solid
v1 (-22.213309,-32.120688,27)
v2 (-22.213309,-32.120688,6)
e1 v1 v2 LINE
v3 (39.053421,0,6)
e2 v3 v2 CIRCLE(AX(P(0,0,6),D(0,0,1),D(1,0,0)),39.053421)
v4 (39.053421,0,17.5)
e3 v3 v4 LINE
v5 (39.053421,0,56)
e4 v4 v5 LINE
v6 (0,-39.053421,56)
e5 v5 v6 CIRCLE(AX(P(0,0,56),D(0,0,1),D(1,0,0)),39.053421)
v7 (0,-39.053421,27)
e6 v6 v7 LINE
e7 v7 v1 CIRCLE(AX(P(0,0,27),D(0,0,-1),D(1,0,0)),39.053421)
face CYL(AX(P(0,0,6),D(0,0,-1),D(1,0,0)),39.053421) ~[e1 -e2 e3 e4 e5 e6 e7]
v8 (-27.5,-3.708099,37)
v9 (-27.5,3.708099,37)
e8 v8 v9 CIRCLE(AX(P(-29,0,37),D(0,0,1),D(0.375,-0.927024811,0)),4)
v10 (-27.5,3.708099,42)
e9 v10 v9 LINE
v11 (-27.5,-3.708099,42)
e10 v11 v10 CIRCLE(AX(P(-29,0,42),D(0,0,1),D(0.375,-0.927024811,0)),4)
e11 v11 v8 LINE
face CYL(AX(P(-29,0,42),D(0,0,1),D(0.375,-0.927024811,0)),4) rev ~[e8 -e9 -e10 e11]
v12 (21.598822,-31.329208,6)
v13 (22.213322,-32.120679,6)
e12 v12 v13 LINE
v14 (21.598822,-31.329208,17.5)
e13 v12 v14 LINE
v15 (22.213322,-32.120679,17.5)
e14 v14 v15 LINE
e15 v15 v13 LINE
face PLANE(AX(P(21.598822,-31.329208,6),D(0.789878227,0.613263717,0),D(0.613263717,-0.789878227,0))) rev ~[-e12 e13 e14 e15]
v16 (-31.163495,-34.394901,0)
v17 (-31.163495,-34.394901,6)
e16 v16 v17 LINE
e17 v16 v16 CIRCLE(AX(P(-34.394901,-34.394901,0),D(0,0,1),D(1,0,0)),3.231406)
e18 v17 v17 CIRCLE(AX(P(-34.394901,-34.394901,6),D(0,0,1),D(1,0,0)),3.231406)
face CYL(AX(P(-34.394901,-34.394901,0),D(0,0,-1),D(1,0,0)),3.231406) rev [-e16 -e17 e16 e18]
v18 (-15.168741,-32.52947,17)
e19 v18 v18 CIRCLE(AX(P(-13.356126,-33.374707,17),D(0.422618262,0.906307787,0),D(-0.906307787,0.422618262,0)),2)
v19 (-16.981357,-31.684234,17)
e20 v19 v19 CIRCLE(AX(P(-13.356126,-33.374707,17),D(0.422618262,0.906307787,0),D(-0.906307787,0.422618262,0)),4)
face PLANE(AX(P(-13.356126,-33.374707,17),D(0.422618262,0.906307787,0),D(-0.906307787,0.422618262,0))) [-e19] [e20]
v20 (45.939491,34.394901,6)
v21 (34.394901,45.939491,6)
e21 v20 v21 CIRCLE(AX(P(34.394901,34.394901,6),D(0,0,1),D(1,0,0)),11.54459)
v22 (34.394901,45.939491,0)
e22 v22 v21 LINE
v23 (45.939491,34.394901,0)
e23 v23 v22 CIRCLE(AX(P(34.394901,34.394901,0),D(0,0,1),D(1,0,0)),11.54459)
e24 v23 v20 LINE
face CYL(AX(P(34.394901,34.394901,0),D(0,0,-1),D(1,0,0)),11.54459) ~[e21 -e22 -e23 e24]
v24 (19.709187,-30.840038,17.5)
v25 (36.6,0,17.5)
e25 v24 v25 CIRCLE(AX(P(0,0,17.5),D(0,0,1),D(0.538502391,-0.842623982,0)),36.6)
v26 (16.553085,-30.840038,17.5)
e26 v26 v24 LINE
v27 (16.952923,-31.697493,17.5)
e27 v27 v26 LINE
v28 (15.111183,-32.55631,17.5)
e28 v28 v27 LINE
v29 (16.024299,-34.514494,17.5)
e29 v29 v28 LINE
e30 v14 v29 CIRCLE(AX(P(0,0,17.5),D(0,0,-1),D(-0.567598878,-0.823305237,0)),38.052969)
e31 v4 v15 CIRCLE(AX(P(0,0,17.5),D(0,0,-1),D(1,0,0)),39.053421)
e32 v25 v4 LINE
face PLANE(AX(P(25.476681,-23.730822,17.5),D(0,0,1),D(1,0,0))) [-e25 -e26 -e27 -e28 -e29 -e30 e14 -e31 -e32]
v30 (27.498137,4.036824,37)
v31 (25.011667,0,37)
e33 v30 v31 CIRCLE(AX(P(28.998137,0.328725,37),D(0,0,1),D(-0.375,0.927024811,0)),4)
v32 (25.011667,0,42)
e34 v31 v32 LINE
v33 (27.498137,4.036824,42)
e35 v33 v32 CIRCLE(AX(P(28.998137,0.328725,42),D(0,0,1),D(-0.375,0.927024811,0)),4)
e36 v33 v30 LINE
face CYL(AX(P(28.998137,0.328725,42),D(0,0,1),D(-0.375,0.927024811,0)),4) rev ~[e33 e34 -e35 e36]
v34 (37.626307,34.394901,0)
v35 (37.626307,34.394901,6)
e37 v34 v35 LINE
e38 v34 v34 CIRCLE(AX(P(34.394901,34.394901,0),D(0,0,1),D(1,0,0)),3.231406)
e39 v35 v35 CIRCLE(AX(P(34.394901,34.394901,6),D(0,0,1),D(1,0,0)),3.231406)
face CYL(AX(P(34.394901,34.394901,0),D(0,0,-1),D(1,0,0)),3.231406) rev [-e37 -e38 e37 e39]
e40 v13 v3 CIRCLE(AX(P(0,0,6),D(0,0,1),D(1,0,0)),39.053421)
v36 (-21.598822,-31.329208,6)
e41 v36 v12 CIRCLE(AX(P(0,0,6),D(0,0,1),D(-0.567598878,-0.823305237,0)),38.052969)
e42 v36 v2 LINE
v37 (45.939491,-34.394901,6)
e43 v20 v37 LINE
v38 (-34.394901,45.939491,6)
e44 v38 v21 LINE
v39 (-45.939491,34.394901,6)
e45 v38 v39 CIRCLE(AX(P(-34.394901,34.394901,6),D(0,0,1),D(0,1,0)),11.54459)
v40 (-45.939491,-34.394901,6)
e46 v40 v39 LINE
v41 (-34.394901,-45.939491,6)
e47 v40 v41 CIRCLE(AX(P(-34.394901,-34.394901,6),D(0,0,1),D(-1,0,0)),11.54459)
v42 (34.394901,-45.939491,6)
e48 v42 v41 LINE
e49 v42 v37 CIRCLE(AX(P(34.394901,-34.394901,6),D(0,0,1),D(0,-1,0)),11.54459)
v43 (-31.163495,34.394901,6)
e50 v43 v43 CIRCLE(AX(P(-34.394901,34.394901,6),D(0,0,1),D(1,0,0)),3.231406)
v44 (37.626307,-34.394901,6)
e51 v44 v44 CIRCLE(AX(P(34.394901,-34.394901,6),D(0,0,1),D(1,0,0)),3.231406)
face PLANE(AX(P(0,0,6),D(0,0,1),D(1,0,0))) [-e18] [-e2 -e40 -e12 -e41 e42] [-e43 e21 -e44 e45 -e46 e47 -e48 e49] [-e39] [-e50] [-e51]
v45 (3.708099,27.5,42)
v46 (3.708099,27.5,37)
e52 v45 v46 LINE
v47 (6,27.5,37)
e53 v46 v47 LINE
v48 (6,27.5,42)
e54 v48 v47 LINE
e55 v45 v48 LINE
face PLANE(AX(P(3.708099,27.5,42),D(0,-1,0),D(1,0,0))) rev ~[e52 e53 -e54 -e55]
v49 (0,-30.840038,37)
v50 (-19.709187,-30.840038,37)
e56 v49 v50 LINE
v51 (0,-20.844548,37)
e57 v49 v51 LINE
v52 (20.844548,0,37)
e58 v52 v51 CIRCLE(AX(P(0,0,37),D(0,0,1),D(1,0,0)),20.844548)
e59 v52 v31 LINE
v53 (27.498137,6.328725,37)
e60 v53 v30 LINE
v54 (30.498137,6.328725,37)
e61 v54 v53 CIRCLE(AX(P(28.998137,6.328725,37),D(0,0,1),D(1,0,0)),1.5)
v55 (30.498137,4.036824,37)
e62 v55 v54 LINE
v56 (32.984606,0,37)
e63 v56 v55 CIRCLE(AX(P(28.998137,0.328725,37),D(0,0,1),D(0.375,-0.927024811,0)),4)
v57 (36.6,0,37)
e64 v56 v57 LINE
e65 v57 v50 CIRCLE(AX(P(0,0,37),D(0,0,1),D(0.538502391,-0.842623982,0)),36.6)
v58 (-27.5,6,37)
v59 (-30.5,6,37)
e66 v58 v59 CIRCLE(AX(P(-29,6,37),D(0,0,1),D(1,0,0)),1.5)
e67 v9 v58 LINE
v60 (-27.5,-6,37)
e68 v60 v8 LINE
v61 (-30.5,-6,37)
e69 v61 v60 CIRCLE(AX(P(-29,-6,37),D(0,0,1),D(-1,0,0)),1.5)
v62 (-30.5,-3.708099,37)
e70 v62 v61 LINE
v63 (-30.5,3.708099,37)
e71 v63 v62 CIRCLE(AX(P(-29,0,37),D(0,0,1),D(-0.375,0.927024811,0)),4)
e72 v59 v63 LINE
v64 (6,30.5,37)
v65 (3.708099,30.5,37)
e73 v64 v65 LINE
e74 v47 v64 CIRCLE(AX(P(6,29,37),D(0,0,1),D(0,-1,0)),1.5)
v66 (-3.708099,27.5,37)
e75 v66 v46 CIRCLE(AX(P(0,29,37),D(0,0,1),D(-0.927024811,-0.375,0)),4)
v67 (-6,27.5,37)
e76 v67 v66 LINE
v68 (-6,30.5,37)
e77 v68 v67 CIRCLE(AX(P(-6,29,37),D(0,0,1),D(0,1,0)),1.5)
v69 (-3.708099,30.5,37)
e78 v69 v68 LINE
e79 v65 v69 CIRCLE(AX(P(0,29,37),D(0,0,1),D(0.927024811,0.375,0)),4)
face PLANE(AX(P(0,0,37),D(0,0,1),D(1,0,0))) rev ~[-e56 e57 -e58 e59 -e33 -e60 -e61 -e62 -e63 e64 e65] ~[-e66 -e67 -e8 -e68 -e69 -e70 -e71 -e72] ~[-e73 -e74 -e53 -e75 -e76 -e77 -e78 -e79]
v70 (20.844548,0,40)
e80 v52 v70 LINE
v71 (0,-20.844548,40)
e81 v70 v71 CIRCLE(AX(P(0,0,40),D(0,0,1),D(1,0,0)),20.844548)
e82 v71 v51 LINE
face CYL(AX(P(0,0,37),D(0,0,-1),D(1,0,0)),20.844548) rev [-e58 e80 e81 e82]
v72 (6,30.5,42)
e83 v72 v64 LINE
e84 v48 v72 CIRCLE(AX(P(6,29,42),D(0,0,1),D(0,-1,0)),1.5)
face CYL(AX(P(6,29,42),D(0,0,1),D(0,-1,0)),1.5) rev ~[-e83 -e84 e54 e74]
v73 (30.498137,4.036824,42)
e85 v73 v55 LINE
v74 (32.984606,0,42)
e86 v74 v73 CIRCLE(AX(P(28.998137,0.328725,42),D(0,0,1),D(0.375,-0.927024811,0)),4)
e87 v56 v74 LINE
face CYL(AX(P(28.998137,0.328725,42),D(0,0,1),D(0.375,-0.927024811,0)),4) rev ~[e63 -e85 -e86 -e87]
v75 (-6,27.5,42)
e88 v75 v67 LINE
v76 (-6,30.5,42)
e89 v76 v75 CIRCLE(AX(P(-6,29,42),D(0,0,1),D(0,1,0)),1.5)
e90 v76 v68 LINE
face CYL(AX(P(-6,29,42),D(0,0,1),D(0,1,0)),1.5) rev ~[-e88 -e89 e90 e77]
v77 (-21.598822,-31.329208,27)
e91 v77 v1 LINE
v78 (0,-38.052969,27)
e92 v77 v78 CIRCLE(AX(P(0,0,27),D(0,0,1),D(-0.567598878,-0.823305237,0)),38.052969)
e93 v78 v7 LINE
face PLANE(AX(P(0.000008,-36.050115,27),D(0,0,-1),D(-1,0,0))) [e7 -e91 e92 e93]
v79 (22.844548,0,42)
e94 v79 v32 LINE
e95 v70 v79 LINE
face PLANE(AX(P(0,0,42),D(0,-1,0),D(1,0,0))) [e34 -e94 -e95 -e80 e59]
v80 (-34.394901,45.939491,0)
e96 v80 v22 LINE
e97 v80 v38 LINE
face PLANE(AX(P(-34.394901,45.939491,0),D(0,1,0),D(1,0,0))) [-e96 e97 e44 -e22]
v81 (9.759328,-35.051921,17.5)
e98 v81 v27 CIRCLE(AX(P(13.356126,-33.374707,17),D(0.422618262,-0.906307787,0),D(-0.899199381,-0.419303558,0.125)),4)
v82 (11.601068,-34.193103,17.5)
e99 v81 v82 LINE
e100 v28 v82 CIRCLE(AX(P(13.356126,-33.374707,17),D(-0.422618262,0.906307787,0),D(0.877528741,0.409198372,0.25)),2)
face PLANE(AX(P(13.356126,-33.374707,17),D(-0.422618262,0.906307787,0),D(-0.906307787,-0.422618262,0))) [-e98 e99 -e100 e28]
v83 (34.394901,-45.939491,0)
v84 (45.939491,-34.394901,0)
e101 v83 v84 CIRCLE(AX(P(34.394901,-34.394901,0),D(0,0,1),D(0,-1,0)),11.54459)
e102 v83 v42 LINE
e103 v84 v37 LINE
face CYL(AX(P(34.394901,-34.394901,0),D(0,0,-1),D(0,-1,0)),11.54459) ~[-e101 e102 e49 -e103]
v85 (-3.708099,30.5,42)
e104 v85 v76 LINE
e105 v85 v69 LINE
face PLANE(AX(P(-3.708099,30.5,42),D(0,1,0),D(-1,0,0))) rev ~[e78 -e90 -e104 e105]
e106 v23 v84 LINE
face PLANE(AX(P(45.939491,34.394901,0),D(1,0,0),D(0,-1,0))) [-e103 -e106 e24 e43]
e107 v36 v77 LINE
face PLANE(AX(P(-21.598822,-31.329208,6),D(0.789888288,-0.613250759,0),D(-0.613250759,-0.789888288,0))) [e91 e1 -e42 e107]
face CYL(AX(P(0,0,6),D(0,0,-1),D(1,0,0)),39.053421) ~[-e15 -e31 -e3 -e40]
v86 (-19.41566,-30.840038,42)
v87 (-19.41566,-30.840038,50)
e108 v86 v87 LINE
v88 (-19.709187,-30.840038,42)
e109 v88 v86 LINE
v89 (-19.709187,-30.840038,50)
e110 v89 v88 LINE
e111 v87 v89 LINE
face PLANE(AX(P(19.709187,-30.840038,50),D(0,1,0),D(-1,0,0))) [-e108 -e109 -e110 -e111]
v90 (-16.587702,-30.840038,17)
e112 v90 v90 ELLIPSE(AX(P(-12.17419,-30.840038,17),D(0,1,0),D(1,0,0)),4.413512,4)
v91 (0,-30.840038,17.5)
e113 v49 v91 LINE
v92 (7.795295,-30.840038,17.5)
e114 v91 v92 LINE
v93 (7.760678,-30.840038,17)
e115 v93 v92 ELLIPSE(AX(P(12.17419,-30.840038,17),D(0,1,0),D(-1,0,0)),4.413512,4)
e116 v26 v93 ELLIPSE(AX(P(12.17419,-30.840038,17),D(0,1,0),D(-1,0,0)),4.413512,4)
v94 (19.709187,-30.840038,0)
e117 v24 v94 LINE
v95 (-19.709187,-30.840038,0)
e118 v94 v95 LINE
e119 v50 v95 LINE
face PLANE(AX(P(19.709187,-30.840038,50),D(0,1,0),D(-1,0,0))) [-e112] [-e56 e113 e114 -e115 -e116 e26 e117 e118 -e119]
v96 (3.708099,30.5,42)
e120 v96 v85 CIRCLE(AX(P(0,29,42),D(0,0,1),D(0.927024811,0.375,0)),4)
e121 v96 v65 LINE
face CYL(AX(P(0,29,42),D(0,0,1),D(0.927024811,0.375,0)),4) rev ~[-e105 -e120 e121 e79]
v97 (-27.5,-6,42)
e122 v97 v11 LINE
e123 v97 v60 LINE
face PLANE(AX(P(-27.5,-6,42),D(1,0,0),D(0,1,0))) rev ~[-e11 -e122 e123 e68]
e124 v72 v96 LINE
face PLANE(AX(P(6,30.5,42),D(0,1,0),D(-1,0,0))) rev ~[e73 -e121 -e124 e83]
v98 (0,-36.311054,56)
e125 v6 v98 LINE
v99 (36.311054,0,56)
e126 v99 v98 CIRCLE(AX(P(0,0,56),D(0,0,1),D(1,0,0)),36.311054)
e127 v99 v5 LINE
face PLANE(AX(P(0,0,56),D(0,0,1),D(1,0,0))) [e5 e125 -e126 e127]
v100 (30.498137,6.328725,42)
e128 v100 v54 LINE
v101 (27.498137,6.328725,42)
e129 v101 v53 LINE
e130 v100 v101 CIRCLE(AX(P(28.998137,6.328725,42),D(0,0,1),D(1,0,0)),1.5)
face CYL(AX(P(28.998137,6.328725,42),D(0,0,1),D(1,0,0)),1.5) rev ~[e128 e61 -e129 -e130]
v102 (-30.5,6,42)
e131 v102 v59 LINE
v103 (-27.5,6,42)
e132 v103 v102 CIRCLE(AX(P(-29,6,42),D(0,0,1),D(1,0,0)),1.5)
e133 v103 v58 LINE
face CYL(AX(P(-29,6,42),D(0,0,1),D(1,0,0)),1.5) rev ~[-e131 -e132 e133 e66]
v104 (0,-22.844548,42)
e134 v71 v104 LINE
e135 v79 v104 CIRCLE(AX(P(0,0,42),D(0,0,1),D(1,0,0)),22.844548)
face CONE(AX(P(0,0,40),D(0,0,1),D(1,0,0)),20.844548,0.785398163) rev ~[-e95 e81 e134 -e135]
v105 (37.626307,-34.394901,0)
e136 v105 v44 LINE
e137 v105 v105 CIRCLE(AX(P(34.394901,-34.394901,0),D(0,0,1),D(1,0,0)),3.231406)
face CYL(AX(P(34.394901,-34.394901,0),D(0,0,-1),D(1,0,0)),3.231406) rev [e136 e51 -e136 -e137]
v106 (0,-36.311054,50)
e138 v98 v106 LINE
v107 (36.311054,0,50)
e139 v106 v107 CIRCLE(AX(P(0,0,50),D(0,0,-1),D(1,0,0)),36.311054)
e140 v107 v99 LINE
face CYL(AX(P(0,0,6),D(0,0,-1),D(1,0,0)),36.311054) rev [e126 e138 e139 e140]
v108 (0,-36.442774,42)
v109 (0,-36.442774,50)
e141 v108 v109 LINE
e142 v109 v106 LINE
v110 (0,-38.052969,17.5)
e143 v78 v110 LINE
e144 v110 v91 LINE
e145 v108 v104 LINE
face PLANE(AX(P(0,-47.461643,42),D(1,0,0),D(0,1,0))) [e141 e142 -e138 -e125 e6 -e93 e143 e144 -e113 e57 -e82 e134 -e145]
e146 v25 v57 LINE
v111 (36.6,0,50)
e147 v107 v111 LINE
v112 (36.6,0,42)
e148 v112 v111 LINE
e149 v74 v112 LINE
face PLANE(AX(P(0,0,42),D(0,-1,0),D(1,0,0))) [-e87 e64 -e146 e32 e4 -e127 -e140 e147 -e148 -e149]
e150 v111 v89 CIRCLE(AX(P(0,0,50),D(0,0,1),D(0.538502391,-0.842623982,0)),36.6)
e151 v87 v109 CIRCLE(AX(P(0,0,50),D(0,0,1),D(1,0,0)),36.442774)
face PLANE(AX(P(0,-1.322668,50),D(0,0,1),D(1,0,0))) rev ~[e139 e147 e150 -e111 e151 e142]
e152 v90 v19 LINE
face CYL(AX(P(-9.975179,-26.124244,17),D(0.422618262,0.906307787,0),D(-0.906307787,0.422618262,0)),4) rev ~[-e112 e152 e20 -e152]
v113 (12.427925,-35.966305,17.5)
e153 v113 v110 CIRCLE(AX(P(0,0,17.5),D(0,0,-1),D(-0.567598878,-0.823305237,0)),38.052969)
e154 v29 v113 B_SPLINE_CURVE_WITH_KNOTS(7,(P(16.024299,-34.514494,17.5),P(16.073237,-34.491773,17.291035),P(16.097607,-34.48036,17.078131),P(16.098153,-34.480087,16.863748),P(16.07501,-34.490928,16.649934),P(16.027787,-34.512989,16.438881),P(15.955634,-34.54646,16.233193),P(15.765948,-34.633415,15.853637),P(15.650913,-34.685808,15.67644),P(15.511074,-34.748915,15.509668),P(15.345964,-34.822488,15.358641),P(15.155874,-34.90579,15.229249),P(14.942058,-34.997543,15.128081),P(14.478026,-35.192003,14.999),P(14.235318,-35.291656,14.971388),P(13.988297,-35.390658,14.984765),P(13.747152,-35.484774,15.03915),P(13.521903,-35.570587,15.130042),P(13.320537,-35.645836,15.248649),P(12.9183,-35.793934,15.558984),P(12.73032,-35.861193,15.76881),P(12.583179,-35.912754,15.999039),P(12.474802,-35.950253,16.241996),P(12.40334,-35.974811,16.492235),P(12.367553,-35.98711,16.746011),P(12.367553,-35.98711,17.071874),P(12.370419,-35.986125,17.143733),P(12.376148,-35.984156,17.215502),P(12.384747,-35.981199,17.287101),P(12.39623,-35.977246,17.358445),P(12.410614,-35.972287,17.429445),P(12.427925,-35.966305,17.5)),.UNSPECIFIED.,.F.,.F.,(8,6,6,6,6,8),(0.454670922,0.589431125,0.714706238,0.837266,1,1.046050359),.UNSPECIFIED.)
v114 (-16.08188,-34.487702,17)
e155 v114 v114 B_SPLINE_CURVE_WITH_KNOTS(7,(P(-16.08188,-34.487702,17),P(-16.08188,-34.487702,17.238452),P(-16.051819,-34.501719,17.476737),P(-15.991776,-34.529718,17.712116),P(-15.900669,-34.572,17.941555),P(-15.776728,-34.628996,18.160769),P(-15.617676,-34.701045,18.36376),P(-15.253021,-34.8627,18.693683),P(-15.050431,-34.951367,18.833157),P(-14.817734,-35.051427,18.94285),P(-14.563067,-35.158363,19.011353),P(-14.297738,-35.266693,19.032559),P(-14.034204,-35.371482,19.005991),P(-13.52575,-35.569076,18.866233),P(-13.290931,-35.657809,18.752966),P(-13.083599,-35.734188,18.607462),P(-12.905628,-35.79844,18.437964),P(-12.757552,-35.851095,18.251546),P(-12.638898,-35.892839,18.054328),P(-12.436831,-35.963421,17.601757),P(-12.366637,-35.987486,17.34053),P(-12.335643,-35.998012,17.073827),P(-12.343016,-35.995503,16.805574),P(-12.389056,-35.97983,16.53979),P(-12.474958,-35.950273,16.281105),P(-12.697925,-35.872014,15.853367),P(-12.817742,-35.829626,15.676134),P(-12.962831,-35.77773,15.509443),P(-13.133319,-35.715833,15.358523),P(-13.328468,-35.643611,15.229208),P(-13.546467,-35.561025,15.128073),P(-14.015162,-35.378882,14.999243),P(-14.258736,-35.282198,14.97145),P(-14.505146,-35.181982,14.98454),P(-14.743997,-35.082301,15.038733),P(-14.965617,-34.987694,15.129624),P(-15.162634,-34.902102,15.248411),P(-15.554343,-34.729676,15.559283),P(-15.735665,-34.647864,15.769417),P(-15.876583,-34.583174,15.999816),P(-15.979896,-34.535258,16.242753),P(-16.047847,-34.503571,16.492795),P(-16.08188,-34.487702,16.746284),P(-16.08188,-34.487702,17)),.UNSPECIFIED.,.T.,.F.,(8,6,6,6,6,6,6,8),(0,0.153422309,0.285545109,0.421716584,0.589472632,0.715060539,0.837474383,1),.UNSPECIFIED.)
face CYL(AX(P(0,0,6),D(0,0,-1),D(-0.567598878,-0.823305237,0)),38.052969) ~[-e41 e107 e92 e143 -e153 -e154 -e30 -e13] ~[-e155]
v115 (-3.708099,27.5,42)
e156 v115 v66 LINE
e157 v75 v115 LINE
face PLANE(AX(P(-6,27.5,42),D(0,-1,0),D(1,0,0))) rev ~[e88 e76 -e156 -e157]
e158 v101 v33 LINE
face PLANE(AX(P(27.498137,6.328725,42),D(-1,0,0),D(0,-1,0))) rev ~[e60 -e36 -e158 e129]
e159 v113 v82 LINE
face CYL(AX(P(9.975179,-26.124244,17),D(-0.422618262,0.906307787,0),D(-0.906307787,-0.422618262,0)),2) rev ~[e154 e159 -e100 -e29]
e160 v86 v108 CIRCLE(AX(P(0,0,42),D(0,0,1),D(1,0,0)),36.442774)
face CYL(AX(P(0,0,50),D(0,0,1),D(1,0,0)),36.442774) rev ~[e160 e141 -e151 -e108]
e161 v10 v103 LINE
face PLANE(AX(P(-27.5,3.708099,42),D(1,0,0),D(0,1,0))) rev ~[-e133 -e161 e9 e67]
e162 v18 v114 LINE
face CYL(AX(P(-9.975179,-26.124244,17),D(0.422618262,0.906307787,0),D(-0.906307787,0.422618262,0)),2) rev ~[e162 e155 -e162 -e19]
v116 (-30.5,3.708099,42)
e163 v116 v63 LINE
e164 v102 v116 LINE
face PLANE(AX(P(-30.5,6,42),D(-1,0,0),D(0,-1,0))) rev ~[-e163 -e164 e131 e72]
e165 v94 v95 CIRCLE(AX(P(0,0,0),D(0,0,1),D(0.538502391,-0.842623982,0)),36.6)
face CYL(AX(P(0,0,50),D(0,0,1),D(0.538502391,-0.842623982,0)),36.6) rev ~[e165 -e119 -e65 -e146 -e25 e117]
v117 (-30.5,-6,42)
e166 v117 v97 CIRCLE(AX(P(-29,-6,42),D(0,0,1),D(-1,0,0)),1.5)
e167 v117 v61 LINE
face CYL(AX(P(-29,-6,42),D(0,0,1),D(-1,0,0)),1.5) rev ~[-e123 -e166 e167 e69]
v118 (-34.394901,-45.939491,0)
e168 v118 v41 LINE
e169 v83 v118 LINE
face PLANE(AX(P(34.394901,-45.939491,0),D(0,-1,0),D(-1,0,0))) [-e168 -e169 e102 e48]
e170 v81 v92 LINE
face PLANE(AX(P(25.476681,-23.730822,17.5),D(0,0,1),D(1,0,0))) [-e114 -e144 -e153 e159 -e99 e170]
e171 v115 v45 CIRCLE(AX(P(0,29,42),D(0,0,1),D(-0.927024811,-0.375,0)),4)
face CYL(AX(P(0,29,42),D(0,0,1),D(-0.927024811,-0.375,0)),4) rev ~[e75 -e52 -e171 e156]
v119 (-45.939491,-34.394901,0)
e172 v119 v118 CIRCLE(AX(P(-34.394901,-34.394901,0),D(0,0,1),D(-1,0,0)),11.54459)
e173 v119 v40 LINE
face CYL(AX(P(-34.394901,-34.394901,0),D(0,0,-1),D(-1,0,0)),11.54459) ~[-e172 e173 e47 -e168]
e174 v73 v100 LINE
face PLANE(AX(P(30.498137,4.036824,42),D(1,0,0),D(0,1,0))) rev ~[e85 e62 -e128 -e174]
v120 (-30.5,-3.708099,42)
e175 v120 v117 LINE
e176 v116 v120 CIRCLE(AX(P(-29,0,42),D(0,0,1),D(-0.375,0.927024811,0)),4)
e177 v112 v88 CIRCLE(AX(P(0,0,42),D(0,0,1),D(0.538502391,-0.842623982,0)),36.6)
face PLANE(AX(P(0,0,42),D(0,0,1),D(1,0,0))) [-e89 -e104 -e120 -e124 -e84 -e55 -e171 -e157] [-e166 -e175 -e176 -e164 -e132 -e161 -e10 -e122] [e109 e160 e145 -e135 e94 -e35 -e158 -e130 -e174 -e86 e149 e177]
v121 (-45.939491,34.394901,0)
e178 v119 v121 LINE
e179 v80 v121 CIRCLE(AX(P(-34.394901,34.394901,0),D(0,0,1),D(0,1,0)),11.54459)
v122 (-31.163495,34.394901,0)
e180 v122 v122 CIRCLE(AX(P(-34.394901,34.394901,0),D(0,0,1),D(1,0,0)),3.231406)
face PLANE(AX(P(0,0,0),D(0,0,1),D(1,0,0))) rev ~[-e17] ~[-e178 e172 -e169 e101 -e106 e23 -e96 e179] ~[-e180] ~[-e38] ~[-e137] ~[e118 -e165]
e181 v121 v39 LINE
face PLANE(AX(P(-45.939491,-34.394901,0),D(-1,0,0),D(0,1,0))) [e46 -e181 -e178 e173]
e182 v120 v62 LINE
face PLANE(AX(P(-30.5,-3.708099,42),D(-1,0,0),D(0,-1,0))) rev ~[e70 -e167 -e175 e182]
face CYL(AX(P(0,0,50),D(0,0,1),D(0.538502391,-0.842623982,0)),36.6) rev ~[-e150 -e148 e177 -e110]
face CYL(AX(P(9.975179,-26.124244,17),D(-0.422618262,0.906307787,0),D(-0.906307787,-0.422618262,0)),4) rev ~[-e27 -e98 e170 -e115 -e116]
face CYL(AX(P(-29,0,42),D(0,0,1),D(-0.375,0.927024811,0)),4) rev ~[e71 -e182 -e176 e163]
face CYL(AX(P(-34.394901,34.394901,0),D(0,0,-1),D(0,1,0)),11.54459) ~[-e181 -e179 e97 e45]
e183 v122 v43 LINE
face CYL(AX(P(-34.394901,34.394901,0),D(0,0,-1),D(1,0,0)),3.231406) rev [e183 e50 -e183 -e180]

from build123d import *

# Parameters (mm, degrees)
SKETCH_R        = 3.231406
PAD_DEPTH       = 6
SKETCH001_R     = 39.053421
SKETCH001_R_2   = 36.311054
PAD001_DEPTH    = 50
POCKET_DEPTH    = 21
PAD002_DEPTH    = 44
SKETCH005_R     = 4
POCKET001_DEPTH = 8
SKETCH004_R     = 4
POCKET002_DEPTH = 8
SKETCH006_R     = 2
POCKET003_DEPTH = 33.1588870995
SKETCH007_R     = 2
POCKET004_DEPTH = 33.1588870995
POCKET005_DEPTH = 50.001
SKETCH009_R     = 36.442774
POCKET006_DEPTH = 13
SKETCH010_R     = 37.170227
SKETCH010_R_2   = 20.844548
PAD003_DEPTH    = 5
CHAMFER_SIZE    = 2
POCKET007_DEPTH = 5
SKETCH013_W     = 50.953362
SKETCH013_H     = 47.461643
POCKET008_DEPTH = 24.5


with BuildPart() as part:
    # Sketch → Pad (new body)
    with BuildSketch(Plane.XY):
        with BuildLine():
            ThreePointArc((34.394901, -45.939491), (42.558158875, -42.558158875), (45.939491, -34.394901))
            Line((45.939491, 34.394901), (45.939491, -34.394901))
            ThreePointArc((45.939491, 34.394901), (42.558158875, 42.558158875), (34.394901, 45.939491))
            Line((-34.394901, 45.939491), (34.394901, 45.939491))
            ThreePointArc((-34.394901, 45.939491), (-42.558158875, 42.558158875), (-45.939491, 34.394901))
            Line((-45.939491, -34.394901), (-45.939491, 34.394901))
            ThreePointArc((-45.939491, -34.394901), (-42.558158875, -42.558158875), (-34.394901, -45.939491))
            Line((34.394901, -45.939491), (-34.394901, -45.939491))
        make_face()
        with Locations((-34.394901, 34.394901)):
            Circle(SKETCH_R, mode=Mode.SUBTRACT)
        with Locations((34.394901, 34.394901)):
            Circle(SKETCH_R, mode=Mode.SUBTRACT)
        with Locations((-34.394901, -34.394901)):
            Circle(SKETCH_R, mode=Mode.SUBTRACT)
        with Locations((34.394901, -34.394901)):
            Circle(SKETCH_R, mode=Mode.SUBTRACT)
    extrude(amount=PAD_DEPTH)

    # Sketch001 (on Face14 of Pad) → Pad001 (join)
    with BuildSketch(Plane.XY.offset(6)):
        Circle(SKETCH001_R)
        Circle(SKETCH001_R_2, mode=Mode.SUBTRACT)
    extrude(amount=PAD001_DEPTH)

    # Sketch002 (on Face14 of Pad) → Pocket (cut)
    with BuildSketch(Plane.XY.offset(6)):
        with BuildLine():
            ThreePointArc((-21.5988223559, -31.3292084741), (0, -38.0529687512), (21.5988223559, -31.3292084741))
            Line((21.5988223559, -31.3292084741), (22.7946876619, -32.8694723778))
            ThreePointArc((-22.7946613357, -32.8694906348), (1.60187e-05, -40), (22.7946876619, -32.8694723778))
            Line((-21.5988223559, -31.3292084741), (-22.7946613357, -32.8694906348))
        make_face()
    extrude(amount=POCKET_DEPTH, mode=Mode.SUBTRACT)

    # Sketch003 (on Face24 of Pocket) → Pad002 (join)
    with BuildSketch(Plane.XY.offset(6)):
        with BuildLine():
            ThreePointArc((-33.0264474223, -15.3752616453), (0, -36.43), (33.0264474223, -15.3752616453))
            Line((0, -30.775747), (33.0264474223, -15.3752616453))
            Line((-33.0264474223, -15.3752616453), (0, -30.775747))
        make_face()
    extrude(amount=PAD002_DEPTH)

    # Sketch005 (on Face27 of Pad002) → Pocket001 (cut)
    with BuildSketch(Plane(origin=(11.7877949861, -25.2790079252, 0), x_dir=(-0.906307787, -0.4226182617, 0), z_dir=(-0.4226182617, 0.906307787, 0))):
        with Locations((2, 17)):
            Circle(SKETCH005_R)
    extrude(amount=-POCKET001_DEPTH, mode=Mode.SUBTRACT)

    # Sketch004 (on Face25 of Pad002) → Pocket002 (cut)
    with BuildSketch(Plane(origin=(-11.7877949861, -25.2790079252, 0), x_dir=(-0.906307787, 0.4226182617, 0), z_dir=(0.4226182617, 0.906307787, 0))):
        with Locations((-2, 17)):
            Circle(SKETCH004_R)
    extrude(amount=-POCKET002_DEPTH, mode=Mode.SUBTRACT)

    # Sketch006 (on Face27 of Pad002) → Pocket003 (cut, through all)
    with BuildSketch(Plane(origin=(11.7877949861, -25.2790079252, 0), x_dir=(-0.906307787, -0.4226182617, 0), z_dir=(-0.4226182617, 0.906307787, 0))):
        with Locations((2, 17)):
            Circle(SKETCH006_R)
    extrude(amount=-POCKET003_DEPTH, mode=Mode.SUBTRACT)

    # Sketch007 (on Face25 of Pad002) → Pocket004 (cut, through all)
    with BuildSketch(Plane(origin=(-11.7877949861, -25.2790079252, 0), x_dir=(-0.906307787, 0.4226182617, 0), z_dir=(0.4226182617, 0.906307787, 0))):
        with Locations((-2, 17)):
            Circle(SKETCH007_R)
    extrude(amount=-POCKET004_DEPTH, mode=Mode.SUBTRACT)

    # Sketch008 (on Face28 of Pocket004) → Pocket005 (cut, through all)
    with BuildSketch(Plane.XY.offset(50)):
        with BuildLine():
            ThreePointArc((19.7091874975, -30.8400377462), (0, 36.6), (-19.7091874975, -30.8400377462))
            Line((19.7091874975, -30.8400377462), (-19.7091874975, -30.8400377462))
        make_face()
    extrude(amount=-POCKET005_DEPTH, mode=Mode.SUBTRACT)

    # Sketch009 (on Face20 of Pocket005) → Pocket006 (cut)
    with BuildSketch(Plane.XY.offset(50)):
        Circle(SKETCH009_R)
    extrude(amount=-POCKET006_DEPTH, mode=Mode.SUBTRACT)

    # Sketch010 (on Face21 of Pocket006) → Pad003 (join)
    with BuildSketch(Plane.XY.offset(37)):
        Circle(SKETCH010_R)
        Circle(SKETCH010_R_2, mode=Mode.SUBTRACT)
    extrude(amount=PAD003_DEPTH)

    # Chamfer
    chamfer_edges = [part.edges().sort_by_distance(p)[0] for p in [
        (-20.844548, 0, 42),
    ]]
    chamfer(chamfer_edges, length=CHAMFER_SIZE)

    # Sketch012 (on Face4 of Chamfer) → Pocket007 (cut)
    with BuildSketch(Plane.XY.offset(42)):
        with BuildLine():
            ThreePointArc((-30.5, 3.7080992435), (-33, 0), (-30.5, -3.7080992435))
            Line((-30.5, -3.7080992435), (-30.5, -6))
            ThreePointArc((-30.5, -6), (-29, -7.5), (-27.5, -6))
            Line((-27.5, -6), (-27.5, -3.7080992435))
            ThreePointArc((-27.5, -3.7080992435), (-25, 0), (-27.5, 3.7080992435))
            Line((-27.5, 3.7080992435), (-27.5, 6))
            ThreePointArc((-27.5, 6), (-29, 7.5), (-30.5, 6))
            Line((-30.5, 6), (-30.5, 3.7080992435))
        make_face()
        with BuildLine():
            ThreePointArc((-3.7080992435, 27.5), (0, 25), (3.7080992435, 27.5))
            Line((3.7080992435, 27.5), (6, 27.5))
            ThreePointArc((6, 27.5), (7.5, 29), (6, 30.5))
            Line((6, 30.5), (3.7080992435, 30.5))
            ThreePointArc((3.7080992435, 30.5), (0, 33), (-3.7080992435, 30.5))
            Line((-3.7080992435, 30.5), (-6, 30.5))
            ThreePointArc((-6, 30.5), (-7.5, 29), (-6, 27.5))
            Line((-6, 27.5), (-3.7080992435, 27.5))
        make_face()
        with BuildLine():
            ThreePointArc((27.4981368357, 4.0368241404), (24.9981368357, 0.3287248968), (27.4981368357, -3.3793743467))
            Line((27.4981368357, -3.3793743467), (27.4981368357, -5.6712751032))
            ThreePointArc((27.4981368357, -5.6712751032), (28.9981368357, -7.1712751032), (30.4981368357, -5.6712751032))
            Line((30.4981368357, -5.6712751032), (30.4981368357, -3.3793743467))
            ThreePointArc((30.4981368357, -3.3793743467), (32.9981368357, 0.3287248968), (30.4981368357, 4.0368241404))
            Line((30.4981368357, 4.0368241404), (30.4981368357, 6.3287248968))
            ThreePointArc((30.4981368357, 6.3287248968), (28.9981368357, 7.8287248968), (27.4981368357, 6.3287248968))
            Line((27.4981368357, 6.3287248968), (27.4981368357, 4.0368241404))
        make_face()
    extrude(amount=-POCKET007_DEPTH, mode=Mode.SUBTRACT)

    # Sketch013 (on Face4 of Pocket007) → Pocket008 (cut, symmetric)
    with BuildSketch(Plane.XY.offset(42)):
        with Locations((25.476681, -23.7308215)):
            Rectangle(SKETCH013_W, SKETCH013_H)
    extrude(amount=POCKET008_DEPTH, both=True, mode=Mode.SUBTRACT)


solid = part.part
